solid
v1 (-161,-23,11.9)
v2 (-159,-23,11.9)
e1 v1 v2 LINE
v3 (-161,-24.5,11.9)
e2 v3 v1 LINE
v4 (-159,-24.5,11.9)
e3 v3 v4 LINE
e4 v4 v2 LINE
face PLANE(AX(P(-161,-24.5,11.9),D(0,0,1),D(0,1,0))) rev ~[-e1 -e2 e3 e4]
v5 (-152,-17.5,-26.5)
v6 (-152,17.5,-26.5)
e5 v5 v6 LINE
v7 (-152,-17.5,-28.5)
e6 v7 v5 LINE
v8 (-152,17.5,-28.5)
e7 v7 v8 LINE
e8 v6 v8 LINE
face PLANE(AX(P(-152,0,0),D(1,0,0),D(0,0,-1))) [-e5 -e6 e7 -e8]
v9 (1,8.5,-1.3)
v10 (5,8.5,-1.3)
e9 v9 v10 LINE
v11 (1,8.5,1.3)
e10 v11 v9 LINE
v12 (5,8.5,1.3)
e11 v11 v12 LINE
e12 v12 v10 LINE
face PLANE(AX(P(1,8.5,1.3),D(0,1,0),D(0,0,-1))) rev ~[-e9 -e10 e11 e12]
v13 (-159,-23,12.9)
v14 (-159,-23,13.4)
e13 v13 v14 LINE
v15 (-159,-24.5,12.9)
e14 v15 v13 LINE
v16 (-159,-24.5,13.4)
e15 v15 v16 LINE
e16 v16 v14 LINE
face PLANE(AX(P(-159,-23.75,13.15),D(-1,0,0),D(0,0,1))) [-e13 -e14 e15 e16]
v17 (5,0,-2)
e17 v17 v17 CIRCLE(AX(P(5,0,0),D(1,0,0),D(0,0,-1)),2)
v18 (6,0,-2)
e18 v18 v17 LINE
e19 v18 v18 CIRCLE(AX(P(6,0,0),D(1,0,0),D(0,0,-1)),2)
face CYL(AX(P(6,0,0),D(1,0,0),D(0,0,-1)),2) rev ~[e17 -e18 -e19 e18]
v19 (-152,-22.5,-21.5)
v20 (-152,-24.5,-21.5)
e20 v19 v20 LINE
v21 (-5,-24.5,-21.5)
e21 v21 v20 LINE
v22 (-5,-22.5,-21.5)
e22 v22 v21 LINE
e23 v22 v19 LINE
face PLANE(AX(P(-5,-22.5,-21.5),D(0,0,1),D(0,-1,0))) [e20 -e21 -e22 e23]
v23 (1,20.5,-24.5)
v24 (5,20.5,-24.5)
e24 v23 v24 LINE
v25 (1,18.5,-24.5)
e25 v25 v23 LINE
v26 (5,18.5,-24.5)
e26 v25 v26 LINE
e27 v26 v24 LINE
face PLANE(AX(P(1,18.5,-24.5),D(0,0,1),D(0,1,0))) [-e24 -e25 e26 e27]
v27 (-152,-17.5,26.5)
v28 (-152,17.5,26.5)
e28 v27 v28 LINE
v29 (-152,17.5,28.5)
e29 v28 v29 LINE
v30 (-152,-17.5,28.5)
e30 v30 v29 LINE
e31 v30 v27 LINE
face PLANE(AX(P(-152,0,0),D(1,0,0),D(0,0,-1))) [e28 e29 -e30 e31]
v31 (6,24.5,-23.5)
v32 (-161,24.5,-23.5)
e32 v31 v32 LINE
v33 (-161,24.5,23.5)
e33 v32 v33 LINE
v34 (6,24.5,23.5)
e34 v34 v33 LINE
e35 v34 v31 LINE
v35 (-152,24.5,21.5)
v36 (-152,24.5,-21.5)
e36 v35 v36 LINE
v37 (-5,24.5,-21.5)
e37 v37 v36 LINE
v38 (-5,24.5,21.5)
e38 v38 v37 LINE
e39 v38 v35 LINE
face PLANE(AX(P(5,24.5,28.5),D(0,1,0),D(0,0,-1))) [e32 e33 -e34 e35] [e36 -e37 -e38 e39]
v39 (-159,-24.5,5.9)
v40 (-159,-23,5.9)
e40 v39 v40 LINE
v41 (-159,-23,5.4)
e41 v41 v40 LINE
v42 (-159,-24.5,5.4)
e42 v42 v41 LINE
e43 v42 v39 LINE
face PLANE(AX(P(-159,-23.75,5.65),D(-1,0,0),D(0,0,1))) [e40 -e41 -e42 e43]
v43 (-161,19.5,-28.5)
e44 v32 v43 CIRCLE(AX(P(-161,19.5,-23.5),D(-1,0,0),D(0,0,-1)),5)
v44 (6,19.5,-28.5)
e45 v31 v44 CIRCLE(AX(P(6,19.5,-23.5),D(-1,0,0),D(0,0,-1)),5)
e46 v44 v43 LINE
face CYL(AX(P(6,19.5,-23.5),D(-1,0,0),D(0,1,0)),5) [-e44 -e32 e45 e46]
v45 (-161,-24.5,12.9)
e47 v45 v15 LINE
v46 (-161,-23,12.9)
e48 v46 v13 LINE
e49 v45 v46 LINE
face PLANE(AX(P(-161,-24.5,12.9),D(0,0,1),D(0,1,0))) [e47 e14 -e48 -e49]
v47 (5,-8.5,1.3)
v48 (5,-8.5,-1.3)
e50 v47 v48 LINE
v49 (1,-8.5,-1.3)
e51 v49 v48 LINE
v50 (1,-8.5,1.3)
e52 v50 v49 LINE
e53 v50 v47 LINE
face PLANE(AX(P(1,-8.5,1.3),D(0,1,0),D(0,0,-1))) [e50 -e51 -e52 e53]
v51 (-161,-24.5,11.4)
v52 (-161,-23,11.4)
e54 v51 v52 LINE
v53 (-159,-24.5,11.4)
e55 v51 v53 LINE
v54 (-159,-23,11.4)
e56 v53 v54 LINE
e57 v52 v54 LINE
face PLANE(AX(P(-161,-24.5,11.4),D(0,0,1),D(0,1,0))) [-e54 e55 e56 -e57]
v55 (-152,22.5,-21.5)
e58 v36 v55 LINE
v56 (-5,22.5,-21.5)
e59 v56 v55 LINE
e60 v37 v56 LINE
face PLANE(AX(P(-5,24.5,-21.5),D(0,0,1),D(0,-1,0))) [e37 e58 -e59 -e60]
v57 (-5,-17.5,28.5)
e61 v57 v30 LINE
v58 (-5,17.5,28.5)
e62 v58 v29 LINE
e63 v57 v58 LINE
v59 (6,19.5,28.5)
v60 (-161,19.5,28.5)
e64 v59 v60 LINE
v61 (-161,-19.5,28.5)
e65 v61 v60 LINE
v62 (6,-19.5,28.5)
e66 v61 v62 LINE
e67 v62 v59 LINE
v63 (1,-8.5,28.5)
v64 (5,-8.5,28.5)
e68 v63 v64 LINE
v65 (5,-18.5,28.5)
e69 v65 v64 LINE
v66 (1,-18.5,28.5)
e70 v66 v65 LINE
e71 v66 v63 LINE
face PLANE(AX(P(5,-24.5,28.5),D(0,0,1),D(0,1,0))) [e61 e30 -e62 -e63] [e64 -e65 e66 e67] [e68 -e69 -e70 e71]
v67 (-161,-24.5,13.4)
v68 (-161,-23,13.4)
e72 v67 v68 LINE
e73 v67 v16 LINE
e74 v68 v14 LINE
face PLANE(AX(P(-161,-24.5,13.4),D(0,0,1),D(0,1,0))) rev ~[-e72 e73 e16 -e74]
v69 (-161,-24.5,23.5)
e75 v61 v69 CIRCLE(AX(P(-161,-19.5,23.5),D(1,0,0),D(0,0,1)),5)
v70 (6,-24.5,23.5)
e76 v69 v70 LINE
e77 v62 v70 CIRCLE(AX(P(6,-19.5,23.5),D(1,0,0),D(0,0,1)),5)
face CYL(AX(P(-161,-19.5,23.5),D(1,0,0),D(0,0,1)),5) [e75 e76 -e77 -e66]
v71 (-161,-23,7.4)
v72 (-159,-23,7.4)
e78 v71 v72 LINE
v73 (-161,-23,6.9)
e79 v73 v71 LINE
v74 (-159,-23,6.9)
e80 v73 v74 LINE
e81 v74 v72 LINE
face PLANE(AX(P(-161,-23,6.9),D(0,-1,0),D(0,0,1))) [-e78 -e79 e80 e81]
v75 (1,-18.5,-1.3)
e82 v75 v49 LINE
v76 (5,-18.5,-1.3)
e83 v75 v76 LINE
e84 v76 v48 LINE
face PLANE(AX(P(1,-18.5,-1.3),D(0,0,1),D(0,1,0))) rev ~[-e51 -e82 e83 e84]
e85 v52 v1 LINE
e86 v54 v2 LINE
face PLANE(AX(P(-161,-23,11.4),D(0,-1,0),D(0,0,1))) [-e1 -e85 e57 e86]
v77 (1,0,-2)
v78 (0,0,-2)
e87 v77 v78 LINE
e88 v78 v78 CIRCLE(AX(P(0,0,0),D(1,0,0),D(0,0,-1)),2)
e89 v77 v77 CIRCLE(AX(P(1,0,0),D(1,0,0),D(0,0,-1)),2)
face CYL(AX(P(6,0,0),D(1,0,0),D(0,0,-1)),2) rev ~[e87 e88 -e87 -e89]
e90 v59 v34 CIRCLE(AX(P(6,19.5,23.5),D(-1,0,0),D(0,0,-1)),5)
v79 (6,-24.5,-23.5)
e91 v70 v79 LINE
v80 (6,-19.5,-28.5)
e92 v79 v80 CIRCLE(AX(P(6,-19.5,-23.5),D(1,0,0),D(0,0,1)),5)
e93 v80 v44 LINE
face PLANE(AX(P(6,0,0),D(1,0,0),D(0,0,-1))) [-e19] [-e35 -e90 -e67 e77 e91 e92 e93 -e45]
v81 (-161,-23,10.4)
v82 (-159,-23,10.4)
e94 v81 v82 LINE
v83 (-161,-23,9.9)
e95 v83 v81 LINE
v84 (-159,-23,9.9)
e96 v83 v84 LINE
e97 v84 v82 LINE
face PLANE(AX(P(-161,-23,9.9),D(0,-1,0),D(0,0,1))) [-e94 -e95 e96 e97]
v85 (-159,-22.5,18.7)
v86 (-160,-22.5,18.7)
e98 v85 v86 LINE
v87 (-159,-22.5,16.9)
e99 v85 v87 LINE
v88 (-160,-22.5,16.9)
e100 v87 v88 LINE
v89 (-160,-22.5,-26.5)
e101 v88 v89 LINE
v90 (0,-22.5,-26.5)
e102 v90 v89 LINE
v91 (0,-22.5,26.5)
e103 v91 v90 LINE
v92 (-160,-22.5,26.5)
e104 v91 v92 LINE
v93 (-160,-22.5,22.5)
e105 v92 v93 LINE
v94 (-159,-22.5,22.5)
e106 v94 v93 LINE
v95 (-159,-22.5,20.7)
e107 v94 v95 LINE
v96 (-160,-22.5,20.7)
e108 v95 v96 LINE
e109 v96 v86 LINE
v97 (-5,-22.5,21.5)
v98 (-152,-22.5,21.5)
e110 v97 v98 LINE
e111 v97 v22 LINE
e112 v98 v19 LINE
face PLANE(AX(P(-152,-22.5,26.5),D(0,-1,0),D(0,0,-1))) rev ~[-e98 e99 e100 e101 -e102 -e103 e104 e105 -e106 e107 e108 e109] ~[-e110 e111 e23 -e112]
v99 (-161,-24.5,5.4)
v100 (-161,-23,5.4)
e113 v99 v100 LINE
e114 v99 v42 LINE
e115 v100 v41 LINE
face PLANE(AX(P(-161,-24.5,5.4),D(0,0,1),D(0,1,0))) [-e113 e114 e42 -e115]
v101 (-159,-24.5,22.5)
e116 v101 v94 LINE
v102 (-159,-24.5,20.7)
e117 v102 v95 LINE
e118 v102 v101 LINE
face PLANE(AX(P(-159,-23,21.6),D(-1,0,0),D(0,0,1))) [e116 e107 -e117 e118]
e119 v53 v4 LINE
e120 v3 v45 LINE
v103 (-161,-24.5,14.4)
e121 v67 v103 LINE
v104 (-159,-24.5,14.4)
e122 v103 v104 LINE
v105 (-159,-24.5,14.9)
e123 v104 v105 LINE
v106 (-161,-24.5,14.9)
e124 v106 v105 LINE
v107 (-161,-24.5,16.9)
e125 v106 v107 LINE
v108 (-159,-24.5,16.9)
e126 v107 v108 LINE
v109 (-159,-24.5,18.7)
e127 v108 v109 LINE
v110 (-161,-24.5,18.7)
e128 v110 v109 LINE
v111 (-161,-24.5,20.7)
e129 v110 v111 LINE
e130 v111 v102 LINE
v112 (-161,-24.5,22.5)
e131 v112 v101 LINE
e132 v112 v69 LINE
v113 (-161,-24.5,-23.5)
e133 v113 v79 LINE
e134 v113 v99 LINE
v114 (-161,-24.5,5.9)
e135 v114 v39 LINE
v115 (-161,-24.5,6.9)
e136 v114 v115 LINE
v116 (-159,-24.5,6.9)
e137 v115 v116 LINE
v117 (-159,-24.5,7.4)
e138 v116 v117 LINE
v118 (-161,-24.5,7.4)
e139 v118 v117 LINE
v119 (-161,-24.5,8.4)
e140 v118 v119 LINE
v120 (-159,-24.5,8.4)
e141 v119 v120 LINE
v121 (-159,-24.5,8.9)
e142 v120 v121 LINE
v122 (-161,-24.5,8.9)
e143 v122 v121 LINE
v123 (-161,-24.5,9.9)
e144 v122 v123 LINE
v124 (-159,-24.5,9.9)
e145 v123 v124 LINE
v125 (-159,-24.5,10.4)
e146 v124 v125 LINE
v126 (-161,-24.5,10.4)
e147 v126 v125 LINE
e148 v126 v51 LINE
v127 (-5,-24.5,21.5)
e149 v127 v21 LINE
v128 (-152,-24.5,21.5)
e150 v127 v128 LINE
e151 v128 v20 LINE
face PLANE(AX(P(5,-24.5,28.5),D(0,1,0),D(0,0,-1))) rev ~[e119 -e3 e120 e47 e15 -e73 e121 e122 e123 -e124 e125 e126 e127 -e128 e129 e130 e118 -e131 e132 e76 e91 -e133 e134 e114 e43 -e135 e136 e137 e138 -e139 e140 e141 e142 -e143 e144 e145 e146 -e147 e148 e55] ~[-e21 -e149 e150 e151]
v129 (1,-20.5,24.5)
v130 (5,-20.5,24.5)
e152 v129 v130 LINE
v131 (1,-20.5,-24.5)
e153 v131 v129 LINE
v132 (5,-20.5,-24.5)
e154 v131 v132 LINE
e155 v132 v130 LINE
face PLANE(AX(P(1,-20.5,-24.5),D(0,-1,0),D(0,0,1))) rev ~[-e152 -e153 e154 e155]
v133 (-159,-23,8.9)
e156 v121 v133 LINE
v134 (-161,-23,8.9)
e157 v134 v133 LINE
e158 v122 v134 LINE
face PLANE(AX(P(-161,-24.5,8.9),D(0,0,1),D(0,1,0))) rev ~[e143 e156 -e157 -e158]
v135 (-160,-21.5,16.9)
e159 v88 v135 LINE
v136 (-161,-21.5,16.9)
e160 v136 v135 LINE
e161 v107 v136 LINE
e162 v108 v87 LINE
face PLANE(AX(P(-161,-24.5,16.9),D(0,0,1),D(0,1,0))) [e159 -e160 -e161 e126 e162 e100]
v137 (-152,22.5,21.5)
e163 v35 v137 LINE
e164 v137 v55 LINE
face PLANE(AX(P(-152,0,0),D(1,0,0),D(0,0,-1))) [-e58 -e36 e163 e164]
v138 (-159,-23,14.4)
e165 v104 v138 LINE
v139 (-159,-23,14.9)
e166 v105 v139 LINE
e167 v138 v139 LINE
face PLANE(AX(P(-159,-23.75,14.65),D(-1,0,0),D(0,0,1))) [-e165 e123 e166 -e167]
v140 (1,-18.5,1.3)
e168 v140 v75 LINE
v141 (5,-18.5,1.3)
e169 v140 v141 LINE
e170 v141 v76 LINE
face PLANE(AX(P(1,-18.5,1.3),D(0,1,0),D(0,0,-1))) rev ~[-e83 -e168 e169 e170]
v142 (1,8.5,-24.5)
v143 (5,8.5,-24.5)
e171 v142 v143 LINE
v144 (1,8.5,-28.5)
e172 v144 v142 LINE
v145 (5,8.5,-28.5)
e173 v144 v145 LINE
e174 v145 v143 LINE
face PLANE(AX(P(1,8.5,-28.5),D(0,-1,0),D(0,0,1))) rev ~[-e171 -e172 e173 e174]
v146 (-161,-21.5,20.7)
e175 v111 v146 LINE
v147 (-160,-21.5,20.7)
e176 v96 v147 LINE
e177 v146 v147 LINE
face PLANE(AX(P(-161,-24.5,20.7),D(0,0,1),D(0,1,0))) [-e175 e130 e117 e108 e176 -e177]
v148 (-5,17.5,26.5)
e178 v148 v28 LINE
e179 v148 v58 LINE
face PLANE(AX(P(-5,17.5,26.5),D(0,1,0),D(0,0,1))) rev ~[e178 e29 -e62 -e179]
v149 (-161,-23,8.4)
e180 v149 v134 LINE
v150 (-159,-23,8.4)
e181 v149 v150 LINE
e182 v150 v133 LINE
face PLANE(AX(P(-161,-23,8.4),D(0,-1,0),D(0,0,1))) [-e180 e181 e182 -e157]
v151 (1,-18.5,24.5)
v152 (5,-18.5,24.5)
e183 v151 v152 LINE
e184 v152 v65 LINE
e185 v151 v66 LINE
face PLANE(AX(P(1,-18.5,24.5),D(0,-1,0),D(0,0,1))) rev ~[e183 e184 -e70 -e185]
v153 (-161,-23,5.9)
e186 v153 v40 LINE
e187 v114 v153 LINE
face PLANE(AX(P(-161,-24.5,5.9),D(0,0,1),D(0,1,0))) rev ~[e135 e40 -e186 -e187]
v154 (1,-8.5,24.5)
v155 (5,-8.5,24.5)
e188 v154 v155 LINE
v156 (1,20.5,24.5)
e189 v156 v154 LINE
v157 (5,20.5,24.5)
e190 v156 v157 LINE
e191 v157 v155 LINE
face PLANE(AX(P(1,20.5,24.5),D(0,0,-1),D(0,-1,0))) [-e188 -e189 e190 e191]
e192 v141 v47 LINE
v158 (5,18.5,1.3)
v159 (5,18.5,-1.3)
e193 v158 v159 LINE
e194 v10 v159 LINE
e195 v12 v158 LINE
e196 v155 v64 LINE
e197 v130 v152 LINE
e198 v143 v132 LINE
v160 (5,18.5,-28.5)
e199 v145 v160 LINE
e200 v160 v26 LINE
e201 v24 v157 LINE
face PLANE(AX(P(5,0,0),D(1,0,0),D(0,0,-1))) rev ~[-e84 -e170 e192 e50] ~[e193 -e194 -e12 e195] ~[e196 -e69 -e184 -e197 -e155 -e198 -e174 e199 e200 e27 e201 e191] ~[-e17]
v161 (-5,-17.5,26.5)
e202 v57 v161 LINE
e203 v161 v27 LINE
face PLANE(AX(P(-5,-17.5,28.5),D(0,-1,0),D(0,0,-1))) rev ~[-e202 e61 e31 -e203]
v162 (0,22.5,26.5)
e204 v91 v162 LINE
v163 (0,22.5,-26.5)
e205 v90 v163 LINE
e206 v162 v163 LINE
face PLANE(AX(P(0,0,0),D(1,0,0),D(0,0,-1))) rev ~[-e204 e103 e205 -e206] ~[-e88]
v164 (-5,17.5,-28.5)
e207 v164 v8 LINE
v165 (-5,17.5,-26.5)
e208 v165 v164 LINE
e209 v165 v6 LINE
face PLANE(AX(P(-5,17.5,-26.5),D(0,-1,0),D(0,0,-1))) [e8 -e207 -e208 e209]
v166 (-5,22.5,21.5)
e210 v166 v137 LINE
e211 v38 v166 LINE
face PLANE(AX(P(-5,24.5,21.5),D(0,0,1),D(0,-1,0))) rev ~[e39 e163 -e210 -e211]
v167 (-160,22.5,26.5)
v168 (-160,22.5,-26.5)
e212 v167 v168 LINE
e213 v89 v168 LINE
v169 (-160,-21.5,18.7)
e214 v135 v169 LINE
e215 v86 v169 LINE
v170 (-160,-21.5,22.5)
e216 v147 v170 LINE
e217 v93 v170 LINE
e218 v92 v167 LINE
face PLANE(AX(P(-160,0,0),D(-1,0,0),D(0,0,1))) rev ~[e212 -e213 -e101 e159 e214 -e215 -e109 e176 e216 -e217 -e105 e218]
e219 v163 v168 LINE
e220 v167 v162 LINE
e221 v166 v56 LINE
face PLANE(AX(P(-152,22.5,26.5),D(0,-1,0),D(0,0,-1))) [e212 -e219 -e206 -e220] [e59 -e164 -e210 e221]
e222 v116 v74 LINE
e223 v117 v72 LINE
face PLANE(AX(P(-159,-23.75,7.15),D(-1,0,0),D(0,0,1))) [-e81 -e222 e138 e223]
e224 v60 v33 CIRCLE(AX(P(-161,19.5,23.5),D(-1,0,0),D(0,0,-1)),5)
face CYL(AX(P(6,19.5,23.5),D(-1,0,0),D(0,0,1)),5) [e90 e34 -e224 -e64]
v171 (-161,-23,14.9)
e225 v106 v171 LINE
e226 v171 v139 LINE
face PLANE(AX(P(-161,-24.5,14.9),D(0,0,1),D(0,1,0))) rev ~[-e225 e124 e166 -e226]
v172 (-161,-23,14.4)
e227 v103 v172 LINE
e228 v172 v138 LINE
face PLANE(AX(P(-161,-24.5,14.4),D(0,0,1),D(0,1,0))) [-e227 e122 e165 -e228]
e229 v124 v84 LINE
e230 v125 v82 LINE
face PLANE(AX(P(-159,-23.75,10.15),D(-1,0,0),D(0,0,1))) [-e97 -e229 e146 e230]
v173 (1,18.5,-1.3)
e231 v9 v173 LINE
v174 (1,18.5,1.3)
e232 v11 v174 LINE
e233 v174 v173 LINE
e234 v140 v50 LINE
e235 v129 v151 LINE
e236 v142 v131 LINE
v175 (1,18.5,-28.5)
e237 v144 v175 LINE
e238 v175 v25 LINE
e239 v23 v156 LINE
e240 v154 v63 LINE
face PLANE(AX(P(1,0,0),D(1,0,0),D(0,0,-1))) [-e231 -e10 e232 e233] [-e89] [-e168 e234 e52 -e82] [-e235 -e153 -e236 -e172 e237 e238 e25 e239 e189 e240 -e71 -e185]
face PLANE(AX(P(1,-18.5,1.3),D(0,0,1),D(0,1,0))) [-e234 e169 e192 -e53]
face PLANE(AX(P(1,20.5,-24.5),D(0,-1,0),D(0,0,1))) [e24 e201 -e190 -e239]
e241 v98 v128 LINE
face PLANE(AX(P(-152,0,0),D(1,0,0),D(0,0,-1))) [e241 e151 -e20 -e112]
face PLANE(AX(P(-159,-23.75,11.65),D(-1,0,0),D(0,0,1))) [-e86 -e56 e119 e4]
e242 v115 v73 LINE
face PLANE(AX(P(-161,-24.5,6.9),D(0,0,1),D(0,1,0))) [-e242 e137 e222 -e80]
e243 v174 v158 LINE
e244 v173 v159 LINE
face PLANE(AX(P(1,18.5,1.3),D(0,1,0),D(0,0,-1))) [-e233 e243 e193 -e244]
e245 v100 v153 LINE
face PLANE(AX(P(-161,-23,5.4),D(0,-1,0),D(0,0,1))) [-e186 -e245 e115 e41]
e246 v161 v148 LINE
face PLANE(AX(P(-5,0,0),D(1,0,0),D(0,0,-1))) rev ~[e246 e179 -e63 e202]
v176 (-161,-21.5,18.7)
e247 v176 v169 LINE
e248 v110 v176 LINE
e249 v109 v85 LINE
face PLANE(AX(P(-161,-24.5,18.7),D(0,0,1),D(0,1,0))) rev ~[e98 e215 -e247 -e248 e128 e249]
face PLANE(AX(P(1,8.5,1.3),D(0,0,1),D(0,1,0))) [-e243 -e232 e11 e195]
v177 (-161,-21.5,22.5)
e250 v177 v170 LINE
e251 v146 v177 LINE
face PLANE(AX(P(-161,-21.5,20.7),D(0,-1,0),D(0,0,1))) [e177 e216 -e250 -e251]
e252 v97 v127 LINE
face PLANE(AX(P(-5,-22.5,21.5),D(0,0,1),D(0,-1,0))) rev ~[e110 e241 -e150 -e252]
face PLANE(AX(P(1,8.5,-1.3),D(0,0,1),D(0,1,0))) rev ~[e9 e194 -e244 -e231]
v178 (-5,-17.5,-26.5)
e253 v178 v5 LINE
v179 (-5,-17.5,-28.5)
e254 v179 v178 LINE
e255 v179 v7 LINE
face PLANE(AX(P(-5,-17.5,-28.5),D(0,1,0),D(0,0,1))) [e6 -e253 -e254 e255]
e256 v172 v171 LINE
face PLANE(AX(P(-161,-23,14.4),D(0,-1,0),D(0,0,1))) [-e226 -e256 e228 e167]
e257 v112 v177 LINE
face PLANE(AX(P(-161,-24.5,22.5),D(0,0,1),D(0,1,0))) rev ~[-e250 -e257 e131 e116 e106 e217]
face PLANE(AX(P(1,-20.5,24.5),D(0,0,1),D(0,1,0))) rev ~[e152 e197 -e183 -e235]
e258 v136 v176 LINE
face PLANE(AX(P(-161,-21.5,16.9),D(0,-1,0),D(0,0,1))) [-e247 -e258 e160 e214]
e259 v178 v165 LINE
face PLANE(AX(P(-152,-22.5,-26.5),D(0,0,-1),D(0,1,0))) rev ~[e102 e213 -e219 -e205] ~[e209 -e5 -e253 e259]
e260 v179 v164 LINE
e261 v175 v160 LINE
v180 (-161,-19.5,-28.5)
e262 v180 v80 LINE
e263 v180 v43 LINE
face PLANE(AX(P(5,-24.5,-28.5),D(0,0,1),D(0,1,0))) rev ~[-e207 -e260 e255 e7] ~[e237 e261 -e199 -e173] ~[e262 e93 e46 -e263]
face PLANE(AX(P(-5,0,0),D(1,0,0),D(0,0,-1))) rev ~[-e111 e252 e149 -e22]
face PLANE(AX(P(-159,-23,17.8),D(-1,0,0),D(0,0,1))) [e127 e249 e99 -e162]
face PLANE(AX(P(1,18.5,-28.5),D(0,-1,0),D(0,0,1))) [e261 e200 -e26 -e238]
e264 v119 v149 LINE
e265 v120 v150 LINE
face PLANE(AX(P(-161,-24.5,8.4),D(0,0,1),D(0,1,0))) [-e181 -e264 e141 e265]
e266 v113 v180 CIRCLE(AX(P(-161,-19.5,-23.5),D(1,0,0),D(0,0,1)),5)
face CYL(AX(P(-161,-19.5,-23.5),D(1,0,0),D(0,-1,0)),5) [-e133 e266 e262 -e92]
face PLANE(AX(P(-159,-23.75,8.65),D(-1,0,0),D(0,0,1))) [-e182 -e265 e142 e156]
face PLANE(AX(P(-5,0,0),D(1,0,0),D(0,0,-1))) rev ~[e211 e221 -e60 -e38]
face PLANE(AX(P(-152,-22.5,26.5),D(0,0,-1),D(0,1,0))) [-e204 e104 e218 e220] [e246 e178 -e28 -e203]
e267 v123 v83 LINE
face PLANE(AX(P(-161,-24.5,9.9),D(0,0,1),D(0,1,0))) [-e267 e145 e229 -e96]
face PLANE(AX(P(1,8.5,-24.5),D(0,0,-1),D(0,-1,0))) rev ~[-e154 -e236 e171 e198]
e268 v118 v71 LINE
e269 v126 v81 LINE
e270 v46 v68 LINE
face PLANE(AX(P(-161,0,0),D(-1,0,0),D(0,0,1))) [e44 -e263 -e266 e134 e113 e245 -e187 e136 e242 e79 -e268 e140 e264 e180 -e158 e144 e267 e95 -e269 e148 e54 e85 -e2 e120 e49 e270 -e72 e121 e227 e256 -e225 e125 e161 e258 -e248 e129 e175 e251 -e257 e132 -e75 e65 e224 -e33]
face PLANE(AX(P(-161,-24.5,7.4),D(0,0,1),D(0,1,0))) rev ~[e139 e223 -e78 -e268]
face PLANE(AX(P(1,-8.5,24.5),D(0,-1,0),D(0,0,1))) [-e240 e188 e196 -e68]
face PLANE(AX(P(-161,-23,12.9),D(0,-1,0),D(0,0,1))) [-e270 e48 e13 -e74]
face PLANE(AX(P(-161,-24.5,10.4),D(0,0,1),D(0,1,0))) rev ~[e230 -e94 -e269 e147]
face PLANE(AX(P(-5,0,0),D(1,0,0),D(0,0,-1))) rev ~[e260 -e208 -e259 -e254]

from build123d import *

# Parameters (mm, degrees)
SKETCH_1_W          = 57
SKETCH_1_H          = 49
SKETCH_1_W_2        = 53
SKETCH_1_H_2        = 45
EXTRUDE_1_DEPTH     = 5
EXTRUDE_2_DEPTH     = 147
SKETCH_3_W          = 57
SKETCH_3_H          = 49
SKETCH_3_W_2        = 53
SKETCH_3_H_2        = 45
EXTRUDE_3_DEPTH     = 8
SKETCH_5_W          = 57
SKETCH_5_H          = 49
EXTRUDE_4_DEPTH     = 1
SKETCH_7_W          = 57
SKETCH_7_H          = 49
EXTRUDE_6_DEPTH     = 1
SKETCH_8_W          = 1.8
SKETCH_8_H          = 3
SKETCH_8_W_2        = 0.5
SKETCH_8_H_2        = 1.5
CUT_EXTRUDE_1_DEPTH = 2
SKETCH_9_W          = 2.6
SKETCH_9_H          = 10
EXTRUDE_7_DEPTH     = 4
SKETCH_10_W         = 57
SKETCH_10_H         = 49
EXTRUDE_8_DEPTH     = 1
SKETCH_11_R         = 2
CUT_EXTRUDE_2_DEPTH = 6
FILLET_2_R          = 5


with BuildPart() as part:
    # Эскиз1 → Бобышка-Вытянуть1 (new body)
    with BuildSketch(Plane(origin=(0, 0, 0), x_dir=(0, 0, -1), z_dir=(1, 0, 0))):
        Rectangle(SKETCH_1_W, SKETCH_1_H)
        Rectangle(SKETCH_1_W_2, SKETCH_1_H_2, mode=Mode.SUBTRACT)
    extrude(amount=-EXTRUDE_1_DEPTH)

    # Эскиз2 → Бобышка-Вытянуть2 (add)
    with BuildSketch(Plane(origin=(-5, 0, 0), x_dir=(0, 0, -1), z_dir=(1, 0, 0))):
        Polygon((-28.5, 24.5), (-21.5, 24.5), (-21.5, 22.5), (-26.5, 22.5), (-26.5, 17.5), (-28.5, 17.5), align=None)
        Polygon((-28.5, -24.5), (-28.5, -17.5), (-26.5, -17.5), (-26.5, -22.5), (-21.5, -22.5), (-21.5, -24.5), align=None)
        Polygon((28.5, 24.5), (21.5, 24.5), (21.5, 22.5), (26.5, 22.5), (26.5, 17.5), (28.5, 17.5), align=None)
        Polygon((26.5, -22.5), (21.5, -22.5), (21.5, -24.5), (28.5, -24.5), (28.5, -17.5), (26.5, -17.5), align=None)
    extrude(amount=-EXTRUDE_2_DEPTH)

    # Эскиз3 → Бобышка-Вытянуть3 (add)
    with BuildSketch(Plane(origin=(-152, 0, 0), x_dir=(0, 0, -1), z_dir=(1, 0, 0))):
        Rectangle(SKETCH_3_W, SKETCH_3_H)
        Rectangle(SKETCH_3_W_2, SKETCH_3_H_2, mode=Mode.SUBTRACT)
    extrude(amount=-EXTRUDE_3_DEPTH)

    # Эскиз5 → Бобышка-Вытянуть4 (add)
    with BuildSketch(Plane(origin=(0, 0, 0), x_dir=(0, 0, -1), z_dir=(1, 0, 0))):
        Rectangle(SKETCH_5_W, SKETCH_5_H)
    extrude(amount=EXTRUDE_4_DEPTH)

    # Эскиз7 → Бобышка-Вытянуть6 (add)
    with BuildSketch(Plane.ZY.offset(160)):
        Rectangle(SKETCH_7_W, SKETCH_7_H)
    extrude(amount=EXTRUDE_6_DEPTH)

    # Эскиз8 → Вырез-Вытянуть1 (cut)
    with BuildSketch(Plane.ZY.offset(161)):
        with Locations((21.6, -23)):
            Rectangle(SKETCH_8_W, SKETCH_8_H)
        with Locations((17.8, -23)):
            Rectangle(SKETCH_8_W, SKETCH_8_H)
        with Locations((14.65, -23.75)):
            Rectangle(SKETCH_8_W_2, SKETCH_8_H_2)
        with Locations((13.15, -23.75)):
            Rectangle(SKETCH_8_W_2, SKETCH_8_H_2)
        with Locations((11.65, -23.75)):
            Rectangle(SKETCH_8_W_2, SKETCH_8_H_2)
        with Locations((10.15, -23.75)):
            Rectangle(SKETCH_8_W_2, SKETCH_8_H_2)
        with Locations((8.65, -23.75)):
            Rectangle(SKETCH_8_W_2, SKETCH_8_H_2)
        with Locations((7.15, -23.75)):
            Rectangle(SKETCH_8_W_2, SKETCH_8_H_2)
        with Locations((5.65, -23.75)):
            Rectangle(SKETCH_8_W_2, SKETCH_8_H_2)
    extrude(amount=-CUT_EXTRUDE_1_DEPTH, mode=Mode.SUBTRACT)

    # Эскиз9 → Бобышка-Вытянуть7 (add)
    with BuildSketch(Plane(origin=(1, 0, 0), x_dir=(0, 0, -1), z_dir=(1, 0, 0))):
        Polygon((24.5, -20.5), (-24.5, -20.5), (-24.5, -18.5), (-28.5, -18.5), (-28.5, -24.5), (28.5, -24.5), (28.5, 8.5), (24.5, 8.5), align=None)
        Polygon((24.5, 20.5), (-24.5, 20.5), (-24.5, -8.5), (-28.5, -8.5), (-28.5, 24.5), (28.5, 24.5), (28.5, 18.5), (24.5, 18.5), align=None)
        with Locations((0, -13.5)):
            Rectangle(SKETCH_9_W, SKETCH_9_H)
        with Locations((0, 13.5)):
            Rectangle(SKETCH_9_W, SKETCH_9_H)
    extrude(amount=EXTRUDE_7_DEPTH)

    # Эскиз10 → Бобышка-Вытянуть8 (add)
    with BuildSketch(Plane(origin=(5, 0, 0), x_dir=(0, 0, -1), z_dir=(1, 0, 0))):
        Rectangle(SKETCH_10_W, SKETCH_10_H)
    extrude(amount=EXTRUDE_8_DEPTH)

    # Эскиз11 → Вырез-Вытянуть2 (cut)
    with BuildSketch(Plane(origin=(6, 0, 0), x_dir=(0, 0, -1), z_dir=(1, 0, 0))):
        Circle(SKETCH_11_R)
    extrude(amount=-CUT_EXTRUDE_2_DEPTH, mode=Mode.SUBTRACT)

    # Скругление2
    fillet_2_edges = [part.edges().sort_by_distance(p)[0] for p in [
        (-77.5, 24.5, 28.5),
        (-77.5, 24.5, -28.5),
        (-77.5, -24.5, -28.5),
        (-77.5, -24.5, 28.5),
    ]]
    fillet(fillet_2_edges, radius=FILLET_2_R)


solid = part.part
